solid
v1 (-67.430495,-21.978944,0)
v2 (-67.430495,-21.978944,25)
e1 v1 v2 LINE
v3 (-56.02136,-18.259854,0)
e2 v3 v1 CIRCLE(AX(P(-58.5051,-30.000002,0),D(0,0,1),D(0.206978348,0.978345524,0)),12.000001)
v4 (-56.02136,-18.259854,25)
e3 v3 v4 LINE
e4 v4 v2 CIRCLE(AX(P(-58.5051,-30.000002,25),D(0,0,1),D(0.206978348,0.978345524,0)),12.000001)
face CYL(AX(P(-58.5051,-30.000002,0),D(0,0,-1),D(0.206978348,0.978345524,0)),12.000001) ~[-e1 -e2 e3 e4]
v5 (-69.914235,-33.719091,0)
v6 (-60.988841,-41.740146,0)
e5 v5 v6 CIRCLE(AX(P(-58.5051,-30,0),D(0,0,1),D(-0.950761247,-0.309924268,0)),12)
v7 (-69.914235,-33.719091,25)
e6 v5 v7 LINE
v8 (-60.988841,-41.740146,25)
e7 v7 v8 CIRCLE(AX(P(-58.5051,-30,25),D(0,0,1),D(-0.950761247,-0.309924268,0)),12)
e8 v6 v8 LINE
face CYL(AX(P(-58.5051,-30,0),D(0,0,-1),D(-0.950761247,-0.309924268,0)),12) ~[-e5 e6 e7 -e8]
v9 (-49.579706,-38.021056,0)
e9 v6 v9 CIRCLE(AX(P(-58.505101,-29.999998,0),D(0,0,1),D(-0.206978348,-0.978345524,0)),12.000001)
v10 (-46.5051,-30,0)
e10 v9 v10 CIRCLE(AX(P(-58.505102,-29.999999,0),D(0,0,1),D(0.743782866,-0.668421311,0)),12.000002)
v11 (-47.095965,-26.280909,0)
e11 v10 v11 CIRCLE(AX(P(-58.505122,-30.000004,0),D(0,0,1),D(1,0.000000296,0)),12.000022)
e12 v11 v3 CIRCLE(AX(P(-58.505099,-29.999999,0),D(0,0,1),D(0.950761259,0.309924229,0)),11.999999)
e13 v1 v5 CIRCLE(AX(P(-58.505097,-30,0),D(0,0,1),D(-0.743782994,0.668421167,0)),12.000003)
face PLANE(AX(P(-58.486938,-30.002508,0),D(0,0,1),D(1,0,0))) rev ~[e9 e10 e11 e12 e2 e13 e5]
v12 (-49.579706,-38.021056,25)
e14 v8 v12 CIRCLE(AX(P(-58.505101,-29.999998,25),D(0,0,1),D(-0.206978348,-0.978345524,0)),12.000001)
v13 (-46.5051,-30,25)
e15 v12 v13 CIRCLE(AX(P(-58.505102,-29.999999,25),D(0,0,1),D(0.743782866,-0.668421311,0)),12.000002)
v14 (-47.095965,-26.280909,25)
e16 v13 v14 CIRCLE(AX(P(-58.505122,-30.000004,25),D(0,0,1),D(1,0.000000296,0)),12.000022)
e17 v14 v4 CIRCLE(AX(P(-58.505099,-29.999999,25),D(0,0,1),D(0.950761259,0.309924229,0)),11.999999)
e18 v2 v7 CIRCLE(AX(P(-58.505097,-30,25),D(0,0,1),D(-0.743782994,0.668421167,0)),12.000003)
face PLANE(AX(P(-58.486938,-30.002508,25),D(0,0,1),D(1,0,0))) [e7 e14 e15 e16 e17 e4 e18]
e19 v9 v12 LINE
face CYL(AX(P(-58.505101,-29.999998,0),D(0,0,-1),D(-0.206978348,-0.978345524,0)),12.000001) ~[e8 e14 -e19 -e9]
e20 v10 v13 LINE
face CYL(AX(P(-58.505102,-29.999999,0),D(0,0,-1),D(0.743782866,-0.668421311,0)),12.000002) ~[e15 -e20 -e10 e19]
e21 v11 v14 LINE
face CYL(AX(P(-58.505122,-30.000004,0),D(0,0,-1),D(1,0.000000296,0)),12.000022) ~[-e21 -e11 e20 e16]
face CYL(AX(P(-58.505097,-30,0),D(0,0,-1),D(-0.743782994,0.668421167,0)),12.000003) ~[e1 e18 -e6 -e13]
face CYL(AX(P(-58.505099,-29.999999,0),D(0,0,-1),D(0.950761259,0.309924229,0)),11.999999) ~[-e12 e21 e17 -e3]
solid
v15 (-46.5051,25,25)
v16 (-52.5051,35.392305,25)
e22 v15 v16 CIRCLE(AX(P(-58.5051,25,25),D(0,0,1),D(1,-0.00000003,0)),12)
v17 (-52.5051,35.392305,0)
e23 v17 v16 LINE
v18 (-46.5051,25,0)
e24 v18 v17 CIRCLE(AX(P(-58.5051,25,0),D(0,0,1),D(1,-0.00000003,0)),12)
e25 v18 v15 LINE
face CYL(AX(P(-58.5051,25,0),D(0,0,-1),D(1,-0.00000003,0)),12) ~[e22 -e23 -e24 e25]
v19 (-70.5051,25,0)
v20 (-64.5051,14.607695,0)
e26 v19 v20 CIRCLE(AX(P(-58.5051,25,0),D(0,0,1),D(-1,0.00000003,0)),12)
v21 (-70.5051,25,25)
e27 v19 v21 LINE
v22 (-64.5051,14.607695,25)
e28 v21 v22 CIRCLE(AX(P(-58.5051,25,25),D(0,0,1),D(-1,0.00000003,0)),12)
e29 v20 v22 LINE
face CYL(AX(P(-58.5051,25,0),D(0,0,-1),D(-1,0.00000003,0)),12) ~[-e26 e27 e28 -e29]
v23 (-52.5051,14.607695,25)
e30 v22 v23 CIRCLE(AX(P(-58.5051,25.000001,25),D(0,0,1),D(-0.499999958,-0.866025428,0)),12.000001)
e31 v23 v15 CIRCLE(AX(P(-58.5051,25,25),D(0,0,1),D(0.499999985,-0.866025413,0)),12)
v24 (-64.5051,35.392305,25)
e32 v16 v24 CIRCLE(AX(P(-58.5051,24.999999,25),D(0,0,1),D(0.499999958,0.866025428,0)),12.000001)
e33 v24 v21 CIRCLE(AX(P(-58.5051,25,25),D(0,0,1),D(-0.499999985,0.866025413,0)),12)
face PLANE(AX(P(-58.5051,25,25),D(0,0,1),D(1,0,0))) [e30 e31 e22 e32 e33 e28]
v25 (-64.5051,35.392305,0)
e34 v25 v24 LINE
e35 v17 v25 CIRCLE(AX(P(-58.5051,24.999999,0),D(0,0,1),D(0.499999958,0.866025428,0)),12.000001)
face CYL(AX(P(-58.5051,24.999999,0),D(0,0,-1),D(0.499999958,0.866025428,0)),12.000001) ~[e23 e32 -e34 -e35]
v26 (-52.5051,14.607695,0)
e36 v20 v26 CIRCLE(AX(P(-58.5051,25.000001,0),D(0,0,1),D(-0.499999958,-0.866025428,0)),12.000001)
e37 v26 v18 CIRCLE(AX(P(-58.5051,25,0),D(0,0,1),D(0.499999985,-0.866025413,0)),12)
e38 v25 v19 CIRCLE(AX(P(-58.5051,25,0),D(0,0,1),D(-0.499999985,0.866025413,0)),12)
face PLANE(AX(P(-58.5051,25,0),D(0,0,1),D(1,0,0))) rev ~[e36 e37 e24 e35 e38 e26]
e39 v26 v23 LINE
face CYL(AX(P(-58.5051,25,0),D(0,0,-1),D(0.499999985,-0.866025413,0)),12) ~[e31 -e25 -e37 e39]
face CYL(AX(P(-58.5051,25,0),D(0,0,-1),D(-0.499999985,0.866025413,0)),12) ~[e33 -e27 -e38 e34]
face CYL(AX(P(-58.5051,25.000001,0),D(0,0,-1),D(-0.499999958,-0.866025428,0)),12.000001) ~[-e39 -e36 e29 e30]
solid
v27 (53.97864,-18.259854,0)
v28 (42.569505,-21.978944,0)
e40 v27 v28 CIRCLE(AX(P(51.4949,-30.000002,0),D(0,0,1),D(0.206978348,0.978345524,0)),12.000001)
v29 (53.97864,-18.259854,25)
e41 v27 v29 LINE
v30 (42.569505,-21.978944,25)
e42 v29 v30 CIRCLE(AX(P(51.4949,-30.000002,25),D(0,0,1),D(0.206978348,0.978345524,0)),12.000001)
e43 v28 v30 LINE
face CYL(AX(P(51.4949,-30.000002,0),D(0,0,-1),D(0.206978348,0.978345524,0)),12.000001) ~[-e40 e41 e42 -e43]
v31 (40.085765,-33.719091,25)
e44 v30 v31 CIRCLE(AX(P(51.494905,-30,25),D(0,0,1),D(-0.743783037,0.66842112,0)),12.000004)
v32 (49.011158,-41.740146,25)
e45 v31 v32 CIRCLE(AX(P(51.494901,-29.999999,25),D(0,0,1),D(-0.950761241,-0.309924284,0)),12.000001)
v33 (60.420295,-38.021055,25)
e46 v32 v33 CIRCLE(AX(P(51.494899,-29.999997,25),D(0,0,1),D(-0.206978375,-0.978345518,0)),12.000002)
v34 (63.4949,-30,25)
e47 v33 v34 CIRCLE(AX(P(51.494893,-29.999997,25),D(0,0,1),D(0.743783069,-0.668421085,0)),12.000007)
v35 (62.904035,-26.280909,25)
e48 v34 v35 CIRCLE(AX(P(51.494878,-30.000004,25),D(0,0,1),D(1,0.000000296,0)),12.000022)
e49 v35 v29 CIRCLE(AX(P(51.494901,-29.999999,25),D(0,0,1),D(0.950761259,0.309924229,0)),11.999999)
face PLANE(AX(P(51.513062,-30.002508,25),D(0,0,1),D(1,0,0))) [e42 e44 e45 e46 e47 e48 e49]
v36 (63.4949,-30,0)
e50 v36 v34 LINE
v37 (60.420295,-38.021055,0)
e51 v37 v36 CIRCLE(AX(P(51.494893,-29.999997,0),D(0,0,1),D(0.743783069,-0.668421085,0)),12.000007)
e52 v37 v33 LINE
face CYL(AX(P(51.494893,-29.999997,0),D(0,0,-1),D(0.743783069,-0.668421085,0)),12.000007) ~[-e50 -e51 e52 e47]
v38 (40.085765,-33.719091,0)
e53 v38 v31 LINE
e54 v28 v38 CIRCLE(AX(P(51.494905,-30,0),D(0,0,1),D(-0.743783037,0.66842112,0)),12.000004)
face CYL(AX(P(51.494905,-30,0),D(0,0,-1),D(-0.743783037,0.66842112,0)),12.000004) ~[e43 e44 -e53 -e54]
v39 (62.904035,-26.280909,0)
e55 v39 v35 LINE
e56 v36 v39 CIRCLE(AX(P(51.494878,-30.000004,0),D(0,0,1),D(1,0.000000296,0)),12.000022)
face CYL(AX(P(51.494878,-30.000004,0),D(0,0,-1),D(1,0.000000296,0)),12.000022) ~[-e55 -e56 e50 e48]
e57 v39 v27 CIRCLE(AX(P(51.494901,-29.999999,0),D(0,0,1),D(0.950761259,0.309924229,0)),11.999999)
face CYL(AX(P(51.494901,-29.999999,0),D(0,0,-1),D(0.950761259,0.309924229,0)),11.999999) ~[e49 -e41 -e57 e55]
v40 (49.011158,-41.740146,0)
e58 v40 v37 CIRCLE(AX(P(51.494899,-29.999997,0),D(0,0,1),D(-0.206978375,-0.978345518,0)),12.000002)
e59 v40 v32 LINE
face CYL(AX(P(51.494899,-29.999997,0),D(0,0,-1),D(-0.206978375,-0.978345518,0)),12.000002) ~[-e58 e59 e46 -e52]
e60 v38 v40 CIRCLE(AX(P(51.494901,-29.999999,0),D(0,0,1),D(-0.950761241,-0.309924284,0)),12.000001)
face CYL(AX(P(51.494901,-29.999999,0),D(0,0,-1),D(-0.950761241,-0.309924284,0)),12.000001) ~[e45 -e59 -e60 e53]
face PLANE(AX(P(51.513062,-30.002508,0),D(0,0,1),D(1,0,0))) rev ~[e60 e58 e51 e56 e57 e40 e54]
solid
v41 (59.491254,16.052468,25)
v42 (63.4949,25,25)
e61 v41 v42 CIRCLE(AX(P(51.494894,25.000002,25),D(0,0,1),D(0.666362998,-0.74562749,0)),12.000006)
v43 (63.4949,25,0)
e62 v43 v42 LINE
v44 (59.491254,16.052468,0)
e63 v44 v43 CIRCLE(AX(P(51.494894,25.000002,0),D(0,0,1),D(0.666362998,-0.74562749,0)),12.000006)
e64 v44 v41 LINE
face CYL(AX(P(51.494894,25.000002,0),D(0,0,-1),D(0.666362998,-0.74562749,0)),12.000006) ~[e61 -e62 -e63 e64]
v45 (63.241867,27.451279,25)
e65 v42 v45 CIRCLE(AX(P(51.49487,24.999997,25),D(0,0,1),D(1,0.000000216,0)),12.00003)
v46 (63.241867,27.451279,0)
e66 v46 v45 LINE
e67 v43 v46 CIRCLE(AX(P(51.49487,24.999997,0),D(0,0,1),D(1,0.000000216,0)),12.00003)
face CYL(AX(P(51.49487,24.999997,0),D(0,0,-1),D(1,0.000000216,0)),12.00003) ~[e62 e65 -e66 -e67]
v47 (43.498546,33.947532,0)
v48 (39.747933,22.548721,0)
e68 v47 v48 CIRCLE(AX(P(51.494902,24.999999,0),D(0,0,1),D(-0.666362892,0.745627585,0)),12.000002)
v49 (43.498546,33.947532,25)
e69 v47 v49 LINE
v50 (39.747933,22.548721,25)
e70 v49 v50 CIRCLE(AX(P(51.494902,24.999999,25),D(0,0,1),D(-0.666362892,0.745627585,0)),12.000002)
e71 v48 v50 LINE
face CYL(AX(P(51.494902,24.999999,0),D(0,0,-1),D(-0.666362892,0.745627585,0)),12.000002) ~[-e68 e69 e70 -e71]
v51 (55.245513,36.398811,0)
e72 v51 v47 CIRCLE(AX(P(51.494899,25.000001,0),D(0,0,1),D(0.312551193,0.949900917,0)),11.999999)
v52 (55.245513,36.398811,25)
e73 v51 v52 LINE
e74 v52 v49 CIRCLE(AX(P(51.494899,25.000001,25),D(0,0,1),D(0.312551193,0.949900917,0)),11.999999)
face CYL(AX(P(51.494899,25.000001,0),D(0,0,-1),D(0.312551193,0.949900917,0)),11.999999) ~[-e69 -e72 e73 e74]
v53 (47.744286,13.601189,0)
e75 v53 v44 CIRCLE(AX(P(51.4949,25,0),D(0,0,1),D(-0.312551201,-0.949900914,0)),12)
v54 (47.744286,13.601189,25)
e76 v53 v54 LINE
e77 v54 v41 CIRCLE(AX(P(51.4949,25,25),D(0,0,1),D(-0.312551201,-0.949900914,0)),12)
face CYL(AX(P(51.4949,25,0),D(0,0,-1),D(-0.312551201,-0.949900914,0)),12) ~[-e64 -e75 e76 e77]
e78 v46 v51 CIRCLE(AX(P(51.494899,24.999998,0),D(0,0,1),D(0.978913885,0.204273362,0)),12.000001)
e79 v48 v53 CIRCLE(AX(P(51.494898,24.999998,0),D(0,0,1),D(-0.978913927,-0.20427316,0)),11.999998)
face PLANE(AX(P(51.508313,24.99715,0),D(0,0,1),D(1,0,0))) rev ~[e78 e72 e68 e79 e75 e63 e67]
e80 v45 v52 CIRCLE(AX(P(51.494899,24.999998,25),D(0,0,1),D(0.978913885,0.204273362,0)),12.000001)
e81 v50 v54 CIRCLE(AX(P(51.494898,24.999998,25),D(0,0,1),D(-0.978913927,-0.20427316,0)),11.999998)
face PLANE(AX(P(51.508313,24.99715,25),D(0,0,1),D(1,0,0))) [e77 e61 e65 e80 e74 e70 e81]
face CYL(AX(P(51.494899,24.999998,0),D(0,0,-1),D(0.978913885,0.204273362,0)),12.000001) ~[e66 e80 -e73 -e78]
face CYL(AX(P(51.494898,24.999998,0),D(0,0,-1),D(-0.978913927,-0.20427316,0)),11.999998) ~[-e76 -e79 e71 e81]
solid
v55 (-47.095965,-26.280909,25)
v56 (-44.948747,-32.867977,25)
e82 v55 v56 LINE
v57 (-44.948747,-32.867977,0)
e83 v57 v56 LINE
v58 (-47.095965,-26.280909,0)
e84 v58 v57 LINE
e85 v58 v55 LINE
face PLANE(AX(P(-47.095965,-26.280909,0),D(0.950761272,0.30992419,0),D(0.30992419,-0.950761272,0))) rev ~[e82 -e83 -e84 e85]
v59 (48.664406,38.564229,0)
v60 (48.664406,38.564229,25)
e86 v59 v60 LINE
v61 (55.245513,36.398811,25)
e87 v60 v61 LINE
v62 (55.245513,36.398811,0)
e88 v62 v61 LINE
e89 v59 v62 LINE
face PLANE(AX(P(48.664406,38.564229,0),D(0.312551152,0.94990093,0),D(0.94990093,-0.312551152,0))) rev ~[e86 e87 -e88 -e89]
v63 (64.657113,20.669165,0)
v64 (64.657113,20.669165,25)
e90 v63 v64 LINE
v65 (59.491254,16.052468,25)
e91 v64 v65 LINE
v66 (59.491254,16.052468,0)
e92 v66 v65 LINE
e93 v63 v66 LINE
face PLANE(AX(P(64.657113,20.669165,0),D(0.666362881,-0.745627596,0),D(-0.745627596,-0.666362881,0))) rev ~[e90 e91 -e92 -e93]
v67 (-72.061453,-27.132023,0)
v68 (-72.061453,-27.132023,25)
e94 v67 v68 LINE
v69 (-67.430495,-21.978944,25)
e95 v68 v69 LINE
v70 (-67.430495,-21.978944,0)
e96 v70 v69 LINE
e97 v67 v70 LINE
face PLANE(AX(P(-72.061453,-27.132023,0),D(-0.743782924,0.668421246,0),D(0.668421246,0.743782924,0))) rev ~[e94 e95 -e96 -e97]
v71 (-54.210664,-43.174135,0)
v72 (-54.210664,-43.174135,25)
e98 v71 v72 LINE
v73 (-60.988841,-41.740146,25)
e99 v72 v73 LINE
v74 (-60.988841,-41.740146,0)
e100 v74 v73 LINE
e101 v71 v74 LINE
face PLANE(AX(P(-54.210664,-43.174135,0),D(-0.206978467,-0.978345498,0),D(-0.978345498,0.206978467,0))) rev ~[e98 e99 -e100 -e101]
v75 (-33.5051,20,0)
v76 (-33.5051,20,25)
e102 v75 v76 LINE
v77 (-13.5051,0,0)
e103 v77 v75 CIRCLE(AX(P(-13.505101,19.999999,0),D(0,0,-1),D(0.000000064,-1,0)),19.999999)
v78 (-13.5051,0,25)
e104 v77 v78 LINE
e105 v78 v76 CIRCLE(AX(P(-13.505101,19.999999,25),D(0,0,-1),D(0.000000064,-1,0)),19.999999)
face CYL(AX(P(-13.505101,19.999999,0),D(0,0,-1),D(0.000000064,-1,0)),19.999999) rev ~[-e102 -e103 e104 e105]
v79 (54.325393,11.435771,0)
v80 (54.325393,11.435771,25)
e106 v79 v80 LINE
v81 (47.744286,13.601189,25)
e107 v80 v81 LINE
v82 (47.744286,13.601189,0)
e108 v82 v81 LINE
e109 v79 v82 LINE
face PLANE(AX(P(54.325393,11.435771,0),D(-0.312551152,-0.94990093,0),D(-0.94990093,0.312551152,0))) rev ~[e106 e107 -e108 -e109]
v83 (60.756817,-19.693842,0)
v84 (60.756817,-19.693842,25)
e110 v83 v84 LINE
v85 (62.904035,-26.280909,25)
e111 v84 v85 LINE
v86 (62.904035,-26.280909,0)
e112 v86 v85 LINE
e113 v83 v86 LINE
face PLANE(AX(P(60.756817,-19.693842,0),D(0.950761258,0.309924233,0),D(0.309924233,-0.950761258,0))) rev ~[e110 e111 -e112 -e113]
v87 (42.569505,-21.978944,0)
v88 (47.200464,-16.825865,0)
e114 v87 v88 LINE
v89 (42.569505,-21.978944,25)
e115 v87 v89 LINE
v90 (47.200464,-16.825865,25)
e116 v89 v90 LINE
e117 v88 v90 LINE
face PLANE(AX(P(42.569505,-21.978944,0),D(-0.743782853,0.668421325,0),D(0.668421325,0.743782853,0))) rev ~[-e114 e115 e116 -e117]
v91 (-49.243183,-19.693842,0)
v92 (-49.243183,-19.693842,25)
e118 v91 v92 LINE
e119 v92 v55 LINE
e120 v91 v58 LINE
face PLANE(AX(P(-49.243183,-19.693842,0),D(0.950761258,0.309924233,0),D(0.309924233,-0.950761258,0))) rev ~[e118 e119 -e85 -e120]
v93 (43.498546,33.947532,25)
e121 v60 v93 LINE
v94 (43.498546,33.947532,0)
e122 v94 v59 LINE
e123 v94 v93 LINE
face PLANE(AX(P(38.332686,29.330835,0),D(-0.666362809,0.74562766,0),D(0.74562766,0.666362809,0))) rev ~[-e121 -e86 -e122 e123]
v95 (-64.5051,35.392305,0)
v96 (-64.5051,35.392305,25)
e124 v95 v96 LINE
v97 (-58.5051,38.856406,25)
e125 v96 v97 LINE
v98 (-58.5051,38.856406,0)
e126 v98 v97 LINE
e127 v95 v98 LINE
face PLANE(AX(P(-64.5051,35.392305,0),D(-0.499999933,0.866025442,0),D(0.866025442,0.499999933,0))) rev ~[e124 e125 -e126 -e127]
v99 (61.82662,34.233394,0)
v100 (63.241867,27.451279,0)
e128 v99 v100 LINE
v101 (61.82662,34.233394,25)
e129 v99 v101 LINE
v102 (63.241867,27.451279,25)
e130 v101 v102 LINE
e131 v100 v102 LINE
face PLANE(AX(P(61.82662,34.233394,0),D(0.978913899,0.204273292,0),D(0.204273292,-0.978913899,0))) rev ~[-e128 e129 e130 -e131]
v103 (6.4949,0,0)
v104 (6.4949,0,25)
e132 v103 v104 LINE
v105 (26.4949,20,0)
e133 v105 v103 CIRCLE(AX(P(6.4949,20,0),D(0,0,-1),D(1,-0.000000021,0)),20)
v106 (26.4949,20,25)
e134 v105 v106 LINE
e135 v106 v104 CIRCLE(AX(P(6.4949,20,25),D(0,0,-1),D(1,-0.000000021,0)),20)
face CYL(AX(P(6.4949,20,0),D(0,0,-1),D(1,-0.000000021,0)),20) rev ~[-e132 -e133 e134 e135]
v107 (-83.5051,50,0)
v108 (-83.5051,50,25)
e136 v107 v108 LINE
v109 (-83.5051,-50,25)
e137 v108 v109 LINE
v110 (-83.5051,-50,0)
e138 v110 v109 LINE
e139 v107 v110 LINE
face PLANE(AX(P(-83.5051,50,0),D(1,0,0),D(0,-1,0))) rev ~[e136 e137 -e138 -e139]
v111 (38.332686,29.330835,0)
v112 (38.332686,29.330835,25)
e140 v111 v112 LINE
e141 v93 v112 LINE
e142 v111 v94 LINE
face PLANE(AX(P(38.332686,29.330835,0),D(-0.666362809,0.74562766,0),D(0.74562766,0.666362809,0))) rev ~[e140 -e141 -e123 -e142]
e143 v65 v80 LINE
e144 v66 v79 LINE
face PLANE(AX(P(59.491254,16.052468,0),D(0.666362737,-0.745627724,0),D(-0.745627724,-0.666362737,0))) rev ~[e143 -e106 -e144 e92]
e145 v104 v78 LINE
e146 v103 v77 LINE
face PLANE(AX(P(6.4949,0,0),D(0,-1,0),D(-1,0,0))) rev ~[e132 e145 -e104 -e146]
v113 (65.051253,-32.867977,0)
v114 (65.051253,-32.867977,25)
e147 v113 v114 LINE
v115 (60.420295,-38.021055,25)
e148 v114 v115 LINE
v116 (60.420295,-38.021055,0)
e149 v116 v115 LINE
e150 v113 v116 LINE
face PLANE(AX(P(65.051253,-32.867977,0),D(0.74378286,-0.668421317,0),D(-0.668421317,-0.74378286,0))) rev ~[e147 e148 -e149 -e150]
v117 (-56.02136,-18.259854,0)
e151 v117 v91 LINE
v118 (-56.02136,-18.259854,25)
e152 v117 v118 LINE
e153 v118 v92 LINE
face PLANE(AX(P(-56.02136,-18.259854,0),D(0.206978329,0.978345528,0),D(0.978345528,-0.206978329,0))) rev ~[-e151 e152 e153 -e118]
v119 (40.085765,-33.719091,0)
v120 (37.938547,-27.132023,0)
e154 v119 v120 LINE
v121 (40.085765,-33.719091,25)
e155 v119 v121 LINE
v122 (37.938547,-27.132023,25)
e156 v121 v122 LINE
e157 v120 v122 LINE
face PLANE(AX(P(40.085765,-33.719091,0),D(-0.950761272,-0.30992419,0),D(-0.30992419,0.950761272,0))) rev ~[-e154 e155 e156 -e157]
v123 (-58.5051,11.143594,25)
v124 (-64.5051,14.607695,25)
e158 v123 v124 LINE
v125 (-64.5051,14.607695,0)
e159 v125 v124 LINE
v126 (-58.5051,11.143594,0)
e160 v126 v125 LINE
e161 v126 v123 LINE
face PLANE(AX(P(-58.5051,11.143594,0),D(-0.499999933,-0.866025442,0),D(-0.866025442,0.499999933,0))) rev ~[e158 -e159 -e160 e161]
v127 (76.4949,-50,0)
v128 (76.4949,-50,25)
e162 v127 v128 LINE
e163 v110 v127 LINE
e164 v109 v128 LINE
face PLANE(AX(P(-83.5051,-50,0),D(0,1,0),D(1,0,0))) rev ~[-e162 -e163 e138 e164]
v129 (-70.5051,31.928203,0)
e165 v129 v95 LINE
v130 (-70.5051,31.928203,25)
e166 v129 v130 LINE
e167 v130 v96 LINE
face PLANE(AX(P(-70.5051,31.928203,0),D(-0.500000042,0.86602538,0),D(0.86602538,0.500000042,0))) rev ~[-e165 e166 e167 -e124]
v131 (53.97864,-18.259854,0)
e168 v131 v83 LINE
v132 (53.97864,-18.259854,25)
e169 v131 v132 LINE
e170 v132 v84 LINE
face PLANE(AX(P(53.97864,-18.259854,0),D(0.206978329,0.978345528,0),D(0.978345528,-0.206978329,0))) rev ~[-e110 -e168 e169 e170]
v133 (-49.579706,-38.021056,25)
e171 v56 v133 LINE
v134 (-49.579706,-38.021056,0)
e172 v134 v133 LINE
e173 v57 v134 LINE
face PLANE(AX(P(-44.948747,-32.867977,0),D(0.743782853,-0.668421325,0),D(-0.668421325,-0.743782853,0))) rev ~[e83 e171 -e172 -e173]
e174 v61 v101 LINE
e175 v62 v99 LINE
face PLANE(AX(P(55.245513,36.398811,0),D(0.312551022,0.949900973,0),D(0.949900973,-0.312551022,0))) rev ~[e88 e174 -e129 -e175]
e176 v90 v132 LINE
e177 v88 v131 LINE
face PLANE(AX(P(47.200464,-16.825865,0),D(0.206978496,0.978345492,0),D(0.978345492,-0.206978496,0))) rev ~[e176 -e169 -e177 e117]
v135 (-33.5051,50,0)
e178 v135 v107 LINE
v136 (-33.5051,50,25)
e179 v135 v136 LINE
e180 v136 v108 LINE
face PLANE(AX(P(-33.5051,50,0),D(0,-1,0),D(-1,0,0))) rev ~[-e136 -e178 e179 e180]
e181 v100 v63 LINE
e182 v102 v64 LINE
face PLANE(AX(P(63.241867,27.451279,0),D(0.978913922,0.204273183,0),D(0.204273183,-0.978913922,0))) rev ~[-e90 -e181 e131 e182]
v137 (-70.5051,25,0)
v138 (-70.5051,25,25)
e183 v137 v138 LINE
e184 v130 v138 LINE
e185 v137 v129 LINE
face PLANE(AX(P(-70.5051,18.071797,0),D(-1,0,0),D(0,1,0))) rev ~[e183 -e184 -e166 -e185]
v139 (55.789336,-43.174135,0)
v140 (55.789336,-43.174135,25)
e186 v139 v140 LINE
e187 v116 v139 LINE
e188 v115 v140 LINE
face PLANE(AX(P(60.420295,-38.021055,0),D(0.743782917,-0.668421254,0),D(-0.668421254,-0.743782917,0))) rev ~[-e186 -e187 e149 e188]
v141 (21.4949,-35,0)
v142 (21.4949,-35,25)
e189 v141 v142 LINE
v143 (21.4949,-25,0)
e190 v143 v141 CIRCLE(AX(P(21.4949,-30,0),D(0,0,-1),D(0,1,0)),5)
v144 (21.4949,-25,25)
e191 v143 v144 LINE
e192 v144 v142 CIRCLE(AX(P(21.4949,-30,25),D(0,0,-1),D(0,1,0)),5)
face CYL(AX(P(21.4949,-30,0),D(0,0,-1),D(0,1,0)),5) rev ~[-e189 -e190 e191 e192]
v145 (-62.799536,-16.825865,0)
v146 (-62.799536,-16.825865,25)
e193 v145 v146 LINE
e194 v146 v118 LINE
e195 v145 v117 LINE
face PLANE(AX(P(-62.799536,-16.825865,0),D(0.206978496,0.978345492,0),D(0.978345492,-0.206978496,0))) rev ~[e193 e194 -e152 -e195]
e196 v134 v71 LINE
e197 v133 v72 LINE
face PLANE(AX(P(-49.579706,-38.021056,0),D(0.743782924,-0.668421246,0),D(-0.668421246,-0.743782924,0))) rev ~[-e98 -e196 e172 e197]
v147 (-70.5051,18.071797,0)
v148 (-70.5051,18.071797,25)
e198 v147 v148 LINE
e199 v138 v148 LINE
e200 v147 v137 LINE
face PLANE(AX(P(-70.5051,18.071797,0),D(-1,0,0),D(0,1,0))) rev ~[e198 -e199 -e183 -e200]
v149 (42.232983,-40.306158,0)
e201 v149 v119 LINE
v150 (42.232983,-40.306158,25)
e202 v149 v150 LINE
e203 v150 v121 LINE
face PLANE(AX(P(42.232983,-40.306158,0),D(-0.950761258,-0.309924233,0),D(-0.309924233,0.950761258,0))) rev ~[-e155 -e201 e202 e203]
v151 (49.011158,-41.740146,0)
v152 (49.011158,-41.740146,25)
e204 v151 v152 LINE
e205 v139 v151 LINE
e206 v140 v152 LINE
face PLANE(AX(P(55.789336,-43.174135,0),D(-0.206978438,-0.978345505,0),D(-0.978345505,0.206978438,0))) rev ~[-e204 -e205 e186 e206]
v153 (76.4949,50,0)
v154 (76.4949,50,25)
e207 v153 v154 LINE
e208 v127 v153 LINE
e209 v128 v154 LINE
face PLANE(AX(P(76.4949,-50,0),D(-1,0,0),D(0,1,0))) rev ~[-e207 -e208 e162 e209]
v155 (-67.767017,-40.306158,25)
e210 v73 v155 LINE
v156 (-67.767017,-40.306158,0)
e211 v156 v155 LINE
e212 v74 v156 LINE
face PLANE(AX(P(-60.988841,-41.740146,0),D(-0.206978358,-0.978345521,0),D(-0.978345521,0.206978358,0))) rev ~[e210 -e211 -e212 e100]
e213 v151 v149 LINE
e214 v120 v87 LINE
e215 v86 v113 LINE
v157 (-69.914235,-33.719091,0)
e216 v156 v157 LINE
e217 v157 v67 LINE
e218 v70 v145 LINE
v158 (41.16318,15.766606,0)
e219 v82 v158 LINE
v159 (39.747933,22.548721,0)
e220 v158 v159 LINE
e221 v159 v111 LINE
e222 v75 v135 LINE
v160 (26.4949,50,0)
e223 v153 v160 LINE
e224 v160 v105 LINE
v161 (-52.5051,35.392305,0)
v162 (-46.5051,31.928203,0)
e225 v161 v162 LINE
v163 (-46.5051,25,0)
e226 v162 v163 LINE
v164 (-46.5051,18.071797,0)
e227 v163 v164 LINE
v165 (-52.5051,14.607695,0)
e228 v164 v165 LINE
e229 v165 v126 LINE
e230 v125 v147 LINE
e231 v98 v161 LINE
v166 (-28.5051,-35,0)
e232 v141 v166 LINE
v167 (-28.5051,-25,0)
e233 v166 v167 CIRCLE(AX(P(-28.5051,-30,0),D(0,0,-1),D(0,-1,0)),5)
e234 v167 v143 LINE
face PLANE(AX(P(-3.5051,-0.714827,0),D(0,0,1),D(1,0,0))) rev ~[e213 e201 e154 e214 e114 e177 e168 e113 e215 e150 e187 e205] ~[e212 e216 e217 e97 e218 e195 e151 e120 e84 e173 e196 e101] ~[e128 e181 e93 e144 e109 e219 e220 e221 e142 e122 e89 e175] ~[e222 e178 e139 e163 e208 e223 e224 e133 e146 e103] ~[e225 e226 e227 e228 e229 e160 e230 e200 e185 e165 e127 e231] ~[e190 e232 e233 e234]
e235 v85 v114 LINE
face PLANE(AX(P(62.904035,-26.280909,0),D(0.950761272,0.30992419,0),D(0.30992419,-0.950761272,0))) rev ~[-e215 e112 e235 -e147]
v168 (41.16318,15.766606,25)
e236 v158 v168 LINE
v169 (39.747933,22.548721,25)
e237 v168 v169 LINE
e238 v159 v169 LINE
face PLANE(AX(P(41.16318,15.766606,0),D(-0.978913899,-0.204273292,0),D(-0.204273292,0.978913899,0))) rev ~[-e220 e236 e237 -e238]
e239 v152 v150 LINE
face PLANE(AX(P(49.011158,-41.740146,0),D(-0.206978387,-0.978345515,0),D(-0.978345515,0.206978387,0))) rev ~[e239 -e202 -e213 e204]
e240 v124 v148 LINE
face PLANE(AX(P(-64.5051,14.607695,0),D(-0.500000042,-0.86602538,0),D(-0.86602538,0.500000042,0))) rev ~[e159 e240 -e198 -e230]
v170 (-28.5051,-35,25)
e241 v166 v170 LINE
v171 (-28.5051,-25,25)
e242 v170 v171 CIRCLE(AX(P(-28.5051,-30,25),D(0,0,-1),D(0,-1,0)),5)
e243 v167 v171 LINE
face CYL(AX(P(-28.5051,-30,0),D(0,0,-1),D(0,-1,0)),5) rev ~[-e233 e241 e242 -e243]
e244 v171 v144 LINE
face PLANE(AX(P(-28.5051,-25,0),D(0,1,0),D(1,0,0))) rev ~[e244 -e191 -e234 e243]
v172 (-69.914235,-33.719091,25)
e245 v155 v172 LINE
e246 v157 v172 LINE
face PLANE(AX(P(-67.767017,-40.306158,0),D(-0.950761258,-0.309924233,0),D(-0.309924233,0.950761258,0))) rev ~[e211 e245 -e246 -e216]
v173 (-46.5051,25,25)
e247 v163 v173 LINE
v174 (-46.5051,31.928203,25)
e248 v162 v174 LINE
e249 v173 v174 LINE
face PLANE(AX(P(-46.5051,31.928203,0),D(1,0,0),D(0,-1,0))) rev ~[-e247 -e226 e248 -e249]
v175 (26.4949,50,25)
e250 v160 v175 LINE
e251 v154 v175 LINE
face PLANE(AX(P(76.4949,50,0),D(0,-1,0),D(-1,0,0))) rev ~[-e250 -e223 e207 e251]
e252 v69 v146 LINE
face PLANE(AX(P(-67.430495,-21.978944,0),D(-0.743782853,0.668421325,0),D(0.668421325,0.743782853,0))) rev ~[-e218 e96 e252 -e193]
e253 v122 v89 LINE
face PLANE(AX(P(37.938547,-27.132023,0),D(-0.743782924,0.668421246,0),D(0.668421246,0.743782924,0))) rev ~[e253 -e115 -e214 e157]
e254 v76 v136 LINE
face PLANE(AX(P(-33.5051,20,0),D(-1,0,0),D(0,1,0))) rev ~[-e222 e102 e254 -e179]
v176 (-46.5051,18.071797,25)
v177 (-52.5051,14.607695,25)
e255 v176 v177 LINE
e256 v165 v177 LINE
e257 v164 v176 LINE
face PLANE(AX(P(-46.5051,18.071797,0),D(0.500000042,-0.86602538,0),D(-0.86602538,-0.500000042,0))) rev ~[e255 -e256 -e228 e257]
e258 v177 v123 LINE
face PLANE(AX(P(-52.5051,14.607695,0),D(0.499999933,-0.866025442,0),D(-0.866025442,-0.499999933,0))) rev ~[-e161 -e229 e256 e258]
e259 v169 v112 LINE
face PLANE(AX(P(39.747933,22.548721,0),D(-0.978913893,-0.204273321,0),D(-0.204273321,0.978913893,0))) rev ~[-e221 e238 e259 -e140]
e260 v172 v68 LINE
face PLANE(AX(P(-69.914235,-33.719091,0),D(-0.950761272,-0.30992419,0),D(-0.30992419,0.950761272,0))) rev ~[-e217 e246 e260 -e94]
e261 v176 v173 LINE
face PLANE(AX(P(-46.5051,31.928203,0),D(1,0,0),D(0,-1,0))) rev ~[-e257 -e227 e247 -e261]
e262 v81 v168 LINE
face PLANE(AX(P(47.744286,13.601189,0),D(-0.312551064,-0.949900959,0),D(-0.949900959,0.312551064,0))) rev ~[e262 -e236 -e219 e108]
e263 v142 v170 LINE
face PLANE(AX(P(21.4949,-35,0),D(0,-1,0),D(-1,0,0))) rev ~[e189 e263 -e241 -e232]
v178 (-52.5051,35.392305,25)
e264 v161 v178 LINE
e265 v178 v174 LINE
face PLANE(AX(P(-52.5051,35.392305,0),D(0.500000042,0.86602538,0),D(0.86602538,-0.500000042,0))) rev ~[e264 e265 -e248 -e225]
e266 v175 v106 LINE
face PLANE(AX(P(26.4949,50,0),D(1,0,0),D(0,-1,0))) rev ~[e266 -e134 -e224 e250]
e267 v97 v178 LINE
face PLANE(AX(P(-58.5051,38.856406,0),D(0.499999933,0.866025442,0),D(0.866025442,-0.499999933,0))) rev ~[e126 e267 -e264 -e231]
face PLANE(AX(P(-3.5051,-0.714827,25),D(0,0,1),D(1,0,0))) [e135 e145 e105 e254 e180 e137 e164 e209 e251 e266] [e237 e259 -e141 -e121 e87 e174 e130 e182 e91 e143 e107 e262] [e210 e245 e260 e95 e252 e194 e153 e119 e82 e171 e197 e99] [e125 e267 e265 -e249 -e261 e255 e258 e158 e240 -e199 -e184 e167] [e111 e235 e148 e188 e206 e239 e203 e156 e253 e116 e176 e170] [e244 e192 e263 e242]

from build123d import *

# Parameters (mm, degrees)
F1_DEPTH = 25


with BuildPart() as f1:
    # F0 (on Top) → F1 (new body)
    with BuildSketch(Plane.XY):
        with BuildLine():
            Line((-58.5051, -50), (-28.5051, -50))
            Line((-28.5051, -50), (21.4949, -50))
            Line((21.4949, -50), (51.4949, -50))
            Line((51.4949, -50), (76.4949, -50))
            Line((76.4949, -50), (76.4949, -30))
            Line((76.4949, -30), (76.4949, 25))
            Line((76.4949, 25), (76.4949, 50))
            Line((76.4949, 50), (26.4949, 50))
            Line((26.4949, 50), (26.4949, 20))
            ThreePointArc((26.4949, 20), (20.637035, 5.857864), (6.4949, 0))
            Line((6.4949, 0), (-13.5051, 0))
            ThreePointArc((-13.5051, 0), (-27.647236, 5.857864), (-33.5051, 20))
            Line((-33.5051, 20), (-33.5051, 50))
            Line((-33.5051, 50), (-83.5051, 50))
            Line((-83.5051, 50), (-83.5051, 25))
            Line((-83.5051, 25), (-83.5051, -30))
            Line((-83.5051, -30), (-83.5051, -50))
            Line((-83.5051, -50), (-58.5051, -50))
        make_face()
        Polygon((-49.243183, -19.693842), (-47.095965, -26.280909), (-44.948747, -32.867977), (-49.579706, -38.021056), (-54.210664, -43.174135), (-60.988841, -41.740146), (-67.767017, -40.306158), (-69.914235, -33.719091), (-72.061453, -27.132023), (-67.430495, -21.978944), (-62.799536, -16.825865), (-56.02136, -18.259854), align=None, mode=Mode.SUBTRACT)
        with BuildLine():
            ThreePointArc((21.4949, -25), (26.4949, -30), (21.4949, -35))
            Line((21.4949, -35), (-28.5051, -35))
            ThreePointArc((-28.5051, -35), (-33.5051, -30), (-28.5051, -25))
            Line((-28.5051, -25), (21.4949, -25))
        make_face(mode=Mode.SUBTRACT)
        Polygon((60.756817, -19.693842), (62.904035, -26.280909), (65.051253, -32.867977), (60.420295, -38.021055), (55.789336, -43.174135), (49.011158, -41.740146), (42.232983, -40.306158), (40.085765, -33.719091), (37.938547, -27.132023), (42.569505, -21.978944), (47.200464, -16.825865), (53.97864, -18.259854), align=None, mode=Mode.SUBTRACT)
        Polygon((-46.5051, 31.928203), (-46.5051, 25), (-46.5051, 18.071797), (-52.5051, 14.607695), (-58.5051, 11.143594), (-64.5051, 14.607695), (-70.5051, 18.071797), (-70.5051, 25), (-70.5051, 31.928203), (-64.5051, 35.392305), (-58.5051, 38.856406), (-52.5051, 35.392305), align=None, mode=Mode.SUBTRACT)
        Polygon((61.82662, 34.233394), (63.241867, 27.451279), (64.657113, 20.669165), (59.491254, 16.052468), (54.325393, 11.435771), (47.744286, 13.601189), (41.16318, 15.766606), (39.747933, 22.548721), (38.332686, 29.330835), (43.498546, 33.947532), (48.664406, 38.564229), (55.245513, 36.398811), align=None, mode=Mode.SUBTRACT)
        with BuildLine():
            ThreePointArc((-52.5051, 14.607695), (-48.112795, 19), (-46.5051, 25))
            ThreePointArc((-46.5051, 25), (-48.112795, 31), (-52.5051, 35.392305))
            ThreePointArc((-52.5051, 35.392305), (-58.5051, 37), (-64.5051, 35.392305))
            ThreePointArc((-64.5051, 35.392305), (-68.897405, 31), (-70.5051, 25))
            ThreePointArc((-70.5051, 25), (-68.897405, 19), (-64.5051, 14.607695))
            ThreePointArc((-64.5051, 14.607695), (-58.5051, 13), (-52.5051, 14.607695))
        make_face()
        with BuildLine():
            ThreePointArc((-49.579706, -38.021056), (-47.300085, -34.295071), (-46.5051, -30))
            ThreePointArc((-46.5051, -30), (-46.653737, -28.117133), (-47.095965, -26.280909))
            ThreePointArc((-47.095965, -26.280909), (-50.484045, -21.074605), (-56.02136, -18.259854))
            ThreePointArc((-56.02136, -18.259854), (-62.224191, -18.590865), (-67.430495, -21.978944))
            ThreePointArc((-67.430495, -21.978944), (-70.245246, -27.516259), (-69.914235, -33.719091))
            ThreePointArc((-69.914235, -33.719091), (-66.526156, -38.925394), (-60.988841, -41.740146))
            ThreePointArc((-60.988841, -41.740146), (-54.78601, -41.409135), (-49.579706, -38.021056))
        make_face()
        with BuildLine():
            ThreePointArc((60.420295, -38.021055), (62.699915, -34.29507), (63.4949, -30))
            ThreePointArc((63.4949, -30), (63.346263, -28.117133), (62.904035, -26.280909))
            ThreePointArc((62.904035, -26.280909), (59.515955, -21.074605), (53.97864, -18.259854))
            ThreePointArc((53.97864, -18.259854), (47.775809, -18.590865), (42.569505, -21.978944))
            ThreePointArc((42.569505, -21.978944), (39.754754, -27.51626), (40.085765, -33.719091))
            ThreePointArc((40.085765, -33.719091), (43.473844, -38.925394), (49.011158, -41.740146))
            ThreePointArc((49.011158, -41.740146), (55.21399, -41.409135), (60.420295, -38.021055))
        make_face()
        with BuildLine():
            ThreePointArc((59.491254, 16.052468), (62.448352, 20.098788), (63.4949, 25))
            ThreePointArc((63.4949, 25), (63.431474, 26.232152), (63.241867, 27.451279))
            ThreePointArc((63.241867, 27.451279), (60.442432, 32.996353), (55.245513, 36.398811))
            ThreePointArc((55.245513, 36.398811), (49.043621, 36.746967), (43.498546, 33.947532))
            ThreePointArc((43.498546, 33.947532), (40.096089, 28.750614), (39.747933, 22.548721))
            ThreePointArc((39.747933, 22.548721), (42.547367, 17.003647), (47.744286, 13.601189))
            ThreePointArc((47.744286, 13.601189), (53.946179, 13.253033), (59.491254, 16.052468))
        make_face()
    extrude(amount=F1_DEPTH)


solid = f1.part
